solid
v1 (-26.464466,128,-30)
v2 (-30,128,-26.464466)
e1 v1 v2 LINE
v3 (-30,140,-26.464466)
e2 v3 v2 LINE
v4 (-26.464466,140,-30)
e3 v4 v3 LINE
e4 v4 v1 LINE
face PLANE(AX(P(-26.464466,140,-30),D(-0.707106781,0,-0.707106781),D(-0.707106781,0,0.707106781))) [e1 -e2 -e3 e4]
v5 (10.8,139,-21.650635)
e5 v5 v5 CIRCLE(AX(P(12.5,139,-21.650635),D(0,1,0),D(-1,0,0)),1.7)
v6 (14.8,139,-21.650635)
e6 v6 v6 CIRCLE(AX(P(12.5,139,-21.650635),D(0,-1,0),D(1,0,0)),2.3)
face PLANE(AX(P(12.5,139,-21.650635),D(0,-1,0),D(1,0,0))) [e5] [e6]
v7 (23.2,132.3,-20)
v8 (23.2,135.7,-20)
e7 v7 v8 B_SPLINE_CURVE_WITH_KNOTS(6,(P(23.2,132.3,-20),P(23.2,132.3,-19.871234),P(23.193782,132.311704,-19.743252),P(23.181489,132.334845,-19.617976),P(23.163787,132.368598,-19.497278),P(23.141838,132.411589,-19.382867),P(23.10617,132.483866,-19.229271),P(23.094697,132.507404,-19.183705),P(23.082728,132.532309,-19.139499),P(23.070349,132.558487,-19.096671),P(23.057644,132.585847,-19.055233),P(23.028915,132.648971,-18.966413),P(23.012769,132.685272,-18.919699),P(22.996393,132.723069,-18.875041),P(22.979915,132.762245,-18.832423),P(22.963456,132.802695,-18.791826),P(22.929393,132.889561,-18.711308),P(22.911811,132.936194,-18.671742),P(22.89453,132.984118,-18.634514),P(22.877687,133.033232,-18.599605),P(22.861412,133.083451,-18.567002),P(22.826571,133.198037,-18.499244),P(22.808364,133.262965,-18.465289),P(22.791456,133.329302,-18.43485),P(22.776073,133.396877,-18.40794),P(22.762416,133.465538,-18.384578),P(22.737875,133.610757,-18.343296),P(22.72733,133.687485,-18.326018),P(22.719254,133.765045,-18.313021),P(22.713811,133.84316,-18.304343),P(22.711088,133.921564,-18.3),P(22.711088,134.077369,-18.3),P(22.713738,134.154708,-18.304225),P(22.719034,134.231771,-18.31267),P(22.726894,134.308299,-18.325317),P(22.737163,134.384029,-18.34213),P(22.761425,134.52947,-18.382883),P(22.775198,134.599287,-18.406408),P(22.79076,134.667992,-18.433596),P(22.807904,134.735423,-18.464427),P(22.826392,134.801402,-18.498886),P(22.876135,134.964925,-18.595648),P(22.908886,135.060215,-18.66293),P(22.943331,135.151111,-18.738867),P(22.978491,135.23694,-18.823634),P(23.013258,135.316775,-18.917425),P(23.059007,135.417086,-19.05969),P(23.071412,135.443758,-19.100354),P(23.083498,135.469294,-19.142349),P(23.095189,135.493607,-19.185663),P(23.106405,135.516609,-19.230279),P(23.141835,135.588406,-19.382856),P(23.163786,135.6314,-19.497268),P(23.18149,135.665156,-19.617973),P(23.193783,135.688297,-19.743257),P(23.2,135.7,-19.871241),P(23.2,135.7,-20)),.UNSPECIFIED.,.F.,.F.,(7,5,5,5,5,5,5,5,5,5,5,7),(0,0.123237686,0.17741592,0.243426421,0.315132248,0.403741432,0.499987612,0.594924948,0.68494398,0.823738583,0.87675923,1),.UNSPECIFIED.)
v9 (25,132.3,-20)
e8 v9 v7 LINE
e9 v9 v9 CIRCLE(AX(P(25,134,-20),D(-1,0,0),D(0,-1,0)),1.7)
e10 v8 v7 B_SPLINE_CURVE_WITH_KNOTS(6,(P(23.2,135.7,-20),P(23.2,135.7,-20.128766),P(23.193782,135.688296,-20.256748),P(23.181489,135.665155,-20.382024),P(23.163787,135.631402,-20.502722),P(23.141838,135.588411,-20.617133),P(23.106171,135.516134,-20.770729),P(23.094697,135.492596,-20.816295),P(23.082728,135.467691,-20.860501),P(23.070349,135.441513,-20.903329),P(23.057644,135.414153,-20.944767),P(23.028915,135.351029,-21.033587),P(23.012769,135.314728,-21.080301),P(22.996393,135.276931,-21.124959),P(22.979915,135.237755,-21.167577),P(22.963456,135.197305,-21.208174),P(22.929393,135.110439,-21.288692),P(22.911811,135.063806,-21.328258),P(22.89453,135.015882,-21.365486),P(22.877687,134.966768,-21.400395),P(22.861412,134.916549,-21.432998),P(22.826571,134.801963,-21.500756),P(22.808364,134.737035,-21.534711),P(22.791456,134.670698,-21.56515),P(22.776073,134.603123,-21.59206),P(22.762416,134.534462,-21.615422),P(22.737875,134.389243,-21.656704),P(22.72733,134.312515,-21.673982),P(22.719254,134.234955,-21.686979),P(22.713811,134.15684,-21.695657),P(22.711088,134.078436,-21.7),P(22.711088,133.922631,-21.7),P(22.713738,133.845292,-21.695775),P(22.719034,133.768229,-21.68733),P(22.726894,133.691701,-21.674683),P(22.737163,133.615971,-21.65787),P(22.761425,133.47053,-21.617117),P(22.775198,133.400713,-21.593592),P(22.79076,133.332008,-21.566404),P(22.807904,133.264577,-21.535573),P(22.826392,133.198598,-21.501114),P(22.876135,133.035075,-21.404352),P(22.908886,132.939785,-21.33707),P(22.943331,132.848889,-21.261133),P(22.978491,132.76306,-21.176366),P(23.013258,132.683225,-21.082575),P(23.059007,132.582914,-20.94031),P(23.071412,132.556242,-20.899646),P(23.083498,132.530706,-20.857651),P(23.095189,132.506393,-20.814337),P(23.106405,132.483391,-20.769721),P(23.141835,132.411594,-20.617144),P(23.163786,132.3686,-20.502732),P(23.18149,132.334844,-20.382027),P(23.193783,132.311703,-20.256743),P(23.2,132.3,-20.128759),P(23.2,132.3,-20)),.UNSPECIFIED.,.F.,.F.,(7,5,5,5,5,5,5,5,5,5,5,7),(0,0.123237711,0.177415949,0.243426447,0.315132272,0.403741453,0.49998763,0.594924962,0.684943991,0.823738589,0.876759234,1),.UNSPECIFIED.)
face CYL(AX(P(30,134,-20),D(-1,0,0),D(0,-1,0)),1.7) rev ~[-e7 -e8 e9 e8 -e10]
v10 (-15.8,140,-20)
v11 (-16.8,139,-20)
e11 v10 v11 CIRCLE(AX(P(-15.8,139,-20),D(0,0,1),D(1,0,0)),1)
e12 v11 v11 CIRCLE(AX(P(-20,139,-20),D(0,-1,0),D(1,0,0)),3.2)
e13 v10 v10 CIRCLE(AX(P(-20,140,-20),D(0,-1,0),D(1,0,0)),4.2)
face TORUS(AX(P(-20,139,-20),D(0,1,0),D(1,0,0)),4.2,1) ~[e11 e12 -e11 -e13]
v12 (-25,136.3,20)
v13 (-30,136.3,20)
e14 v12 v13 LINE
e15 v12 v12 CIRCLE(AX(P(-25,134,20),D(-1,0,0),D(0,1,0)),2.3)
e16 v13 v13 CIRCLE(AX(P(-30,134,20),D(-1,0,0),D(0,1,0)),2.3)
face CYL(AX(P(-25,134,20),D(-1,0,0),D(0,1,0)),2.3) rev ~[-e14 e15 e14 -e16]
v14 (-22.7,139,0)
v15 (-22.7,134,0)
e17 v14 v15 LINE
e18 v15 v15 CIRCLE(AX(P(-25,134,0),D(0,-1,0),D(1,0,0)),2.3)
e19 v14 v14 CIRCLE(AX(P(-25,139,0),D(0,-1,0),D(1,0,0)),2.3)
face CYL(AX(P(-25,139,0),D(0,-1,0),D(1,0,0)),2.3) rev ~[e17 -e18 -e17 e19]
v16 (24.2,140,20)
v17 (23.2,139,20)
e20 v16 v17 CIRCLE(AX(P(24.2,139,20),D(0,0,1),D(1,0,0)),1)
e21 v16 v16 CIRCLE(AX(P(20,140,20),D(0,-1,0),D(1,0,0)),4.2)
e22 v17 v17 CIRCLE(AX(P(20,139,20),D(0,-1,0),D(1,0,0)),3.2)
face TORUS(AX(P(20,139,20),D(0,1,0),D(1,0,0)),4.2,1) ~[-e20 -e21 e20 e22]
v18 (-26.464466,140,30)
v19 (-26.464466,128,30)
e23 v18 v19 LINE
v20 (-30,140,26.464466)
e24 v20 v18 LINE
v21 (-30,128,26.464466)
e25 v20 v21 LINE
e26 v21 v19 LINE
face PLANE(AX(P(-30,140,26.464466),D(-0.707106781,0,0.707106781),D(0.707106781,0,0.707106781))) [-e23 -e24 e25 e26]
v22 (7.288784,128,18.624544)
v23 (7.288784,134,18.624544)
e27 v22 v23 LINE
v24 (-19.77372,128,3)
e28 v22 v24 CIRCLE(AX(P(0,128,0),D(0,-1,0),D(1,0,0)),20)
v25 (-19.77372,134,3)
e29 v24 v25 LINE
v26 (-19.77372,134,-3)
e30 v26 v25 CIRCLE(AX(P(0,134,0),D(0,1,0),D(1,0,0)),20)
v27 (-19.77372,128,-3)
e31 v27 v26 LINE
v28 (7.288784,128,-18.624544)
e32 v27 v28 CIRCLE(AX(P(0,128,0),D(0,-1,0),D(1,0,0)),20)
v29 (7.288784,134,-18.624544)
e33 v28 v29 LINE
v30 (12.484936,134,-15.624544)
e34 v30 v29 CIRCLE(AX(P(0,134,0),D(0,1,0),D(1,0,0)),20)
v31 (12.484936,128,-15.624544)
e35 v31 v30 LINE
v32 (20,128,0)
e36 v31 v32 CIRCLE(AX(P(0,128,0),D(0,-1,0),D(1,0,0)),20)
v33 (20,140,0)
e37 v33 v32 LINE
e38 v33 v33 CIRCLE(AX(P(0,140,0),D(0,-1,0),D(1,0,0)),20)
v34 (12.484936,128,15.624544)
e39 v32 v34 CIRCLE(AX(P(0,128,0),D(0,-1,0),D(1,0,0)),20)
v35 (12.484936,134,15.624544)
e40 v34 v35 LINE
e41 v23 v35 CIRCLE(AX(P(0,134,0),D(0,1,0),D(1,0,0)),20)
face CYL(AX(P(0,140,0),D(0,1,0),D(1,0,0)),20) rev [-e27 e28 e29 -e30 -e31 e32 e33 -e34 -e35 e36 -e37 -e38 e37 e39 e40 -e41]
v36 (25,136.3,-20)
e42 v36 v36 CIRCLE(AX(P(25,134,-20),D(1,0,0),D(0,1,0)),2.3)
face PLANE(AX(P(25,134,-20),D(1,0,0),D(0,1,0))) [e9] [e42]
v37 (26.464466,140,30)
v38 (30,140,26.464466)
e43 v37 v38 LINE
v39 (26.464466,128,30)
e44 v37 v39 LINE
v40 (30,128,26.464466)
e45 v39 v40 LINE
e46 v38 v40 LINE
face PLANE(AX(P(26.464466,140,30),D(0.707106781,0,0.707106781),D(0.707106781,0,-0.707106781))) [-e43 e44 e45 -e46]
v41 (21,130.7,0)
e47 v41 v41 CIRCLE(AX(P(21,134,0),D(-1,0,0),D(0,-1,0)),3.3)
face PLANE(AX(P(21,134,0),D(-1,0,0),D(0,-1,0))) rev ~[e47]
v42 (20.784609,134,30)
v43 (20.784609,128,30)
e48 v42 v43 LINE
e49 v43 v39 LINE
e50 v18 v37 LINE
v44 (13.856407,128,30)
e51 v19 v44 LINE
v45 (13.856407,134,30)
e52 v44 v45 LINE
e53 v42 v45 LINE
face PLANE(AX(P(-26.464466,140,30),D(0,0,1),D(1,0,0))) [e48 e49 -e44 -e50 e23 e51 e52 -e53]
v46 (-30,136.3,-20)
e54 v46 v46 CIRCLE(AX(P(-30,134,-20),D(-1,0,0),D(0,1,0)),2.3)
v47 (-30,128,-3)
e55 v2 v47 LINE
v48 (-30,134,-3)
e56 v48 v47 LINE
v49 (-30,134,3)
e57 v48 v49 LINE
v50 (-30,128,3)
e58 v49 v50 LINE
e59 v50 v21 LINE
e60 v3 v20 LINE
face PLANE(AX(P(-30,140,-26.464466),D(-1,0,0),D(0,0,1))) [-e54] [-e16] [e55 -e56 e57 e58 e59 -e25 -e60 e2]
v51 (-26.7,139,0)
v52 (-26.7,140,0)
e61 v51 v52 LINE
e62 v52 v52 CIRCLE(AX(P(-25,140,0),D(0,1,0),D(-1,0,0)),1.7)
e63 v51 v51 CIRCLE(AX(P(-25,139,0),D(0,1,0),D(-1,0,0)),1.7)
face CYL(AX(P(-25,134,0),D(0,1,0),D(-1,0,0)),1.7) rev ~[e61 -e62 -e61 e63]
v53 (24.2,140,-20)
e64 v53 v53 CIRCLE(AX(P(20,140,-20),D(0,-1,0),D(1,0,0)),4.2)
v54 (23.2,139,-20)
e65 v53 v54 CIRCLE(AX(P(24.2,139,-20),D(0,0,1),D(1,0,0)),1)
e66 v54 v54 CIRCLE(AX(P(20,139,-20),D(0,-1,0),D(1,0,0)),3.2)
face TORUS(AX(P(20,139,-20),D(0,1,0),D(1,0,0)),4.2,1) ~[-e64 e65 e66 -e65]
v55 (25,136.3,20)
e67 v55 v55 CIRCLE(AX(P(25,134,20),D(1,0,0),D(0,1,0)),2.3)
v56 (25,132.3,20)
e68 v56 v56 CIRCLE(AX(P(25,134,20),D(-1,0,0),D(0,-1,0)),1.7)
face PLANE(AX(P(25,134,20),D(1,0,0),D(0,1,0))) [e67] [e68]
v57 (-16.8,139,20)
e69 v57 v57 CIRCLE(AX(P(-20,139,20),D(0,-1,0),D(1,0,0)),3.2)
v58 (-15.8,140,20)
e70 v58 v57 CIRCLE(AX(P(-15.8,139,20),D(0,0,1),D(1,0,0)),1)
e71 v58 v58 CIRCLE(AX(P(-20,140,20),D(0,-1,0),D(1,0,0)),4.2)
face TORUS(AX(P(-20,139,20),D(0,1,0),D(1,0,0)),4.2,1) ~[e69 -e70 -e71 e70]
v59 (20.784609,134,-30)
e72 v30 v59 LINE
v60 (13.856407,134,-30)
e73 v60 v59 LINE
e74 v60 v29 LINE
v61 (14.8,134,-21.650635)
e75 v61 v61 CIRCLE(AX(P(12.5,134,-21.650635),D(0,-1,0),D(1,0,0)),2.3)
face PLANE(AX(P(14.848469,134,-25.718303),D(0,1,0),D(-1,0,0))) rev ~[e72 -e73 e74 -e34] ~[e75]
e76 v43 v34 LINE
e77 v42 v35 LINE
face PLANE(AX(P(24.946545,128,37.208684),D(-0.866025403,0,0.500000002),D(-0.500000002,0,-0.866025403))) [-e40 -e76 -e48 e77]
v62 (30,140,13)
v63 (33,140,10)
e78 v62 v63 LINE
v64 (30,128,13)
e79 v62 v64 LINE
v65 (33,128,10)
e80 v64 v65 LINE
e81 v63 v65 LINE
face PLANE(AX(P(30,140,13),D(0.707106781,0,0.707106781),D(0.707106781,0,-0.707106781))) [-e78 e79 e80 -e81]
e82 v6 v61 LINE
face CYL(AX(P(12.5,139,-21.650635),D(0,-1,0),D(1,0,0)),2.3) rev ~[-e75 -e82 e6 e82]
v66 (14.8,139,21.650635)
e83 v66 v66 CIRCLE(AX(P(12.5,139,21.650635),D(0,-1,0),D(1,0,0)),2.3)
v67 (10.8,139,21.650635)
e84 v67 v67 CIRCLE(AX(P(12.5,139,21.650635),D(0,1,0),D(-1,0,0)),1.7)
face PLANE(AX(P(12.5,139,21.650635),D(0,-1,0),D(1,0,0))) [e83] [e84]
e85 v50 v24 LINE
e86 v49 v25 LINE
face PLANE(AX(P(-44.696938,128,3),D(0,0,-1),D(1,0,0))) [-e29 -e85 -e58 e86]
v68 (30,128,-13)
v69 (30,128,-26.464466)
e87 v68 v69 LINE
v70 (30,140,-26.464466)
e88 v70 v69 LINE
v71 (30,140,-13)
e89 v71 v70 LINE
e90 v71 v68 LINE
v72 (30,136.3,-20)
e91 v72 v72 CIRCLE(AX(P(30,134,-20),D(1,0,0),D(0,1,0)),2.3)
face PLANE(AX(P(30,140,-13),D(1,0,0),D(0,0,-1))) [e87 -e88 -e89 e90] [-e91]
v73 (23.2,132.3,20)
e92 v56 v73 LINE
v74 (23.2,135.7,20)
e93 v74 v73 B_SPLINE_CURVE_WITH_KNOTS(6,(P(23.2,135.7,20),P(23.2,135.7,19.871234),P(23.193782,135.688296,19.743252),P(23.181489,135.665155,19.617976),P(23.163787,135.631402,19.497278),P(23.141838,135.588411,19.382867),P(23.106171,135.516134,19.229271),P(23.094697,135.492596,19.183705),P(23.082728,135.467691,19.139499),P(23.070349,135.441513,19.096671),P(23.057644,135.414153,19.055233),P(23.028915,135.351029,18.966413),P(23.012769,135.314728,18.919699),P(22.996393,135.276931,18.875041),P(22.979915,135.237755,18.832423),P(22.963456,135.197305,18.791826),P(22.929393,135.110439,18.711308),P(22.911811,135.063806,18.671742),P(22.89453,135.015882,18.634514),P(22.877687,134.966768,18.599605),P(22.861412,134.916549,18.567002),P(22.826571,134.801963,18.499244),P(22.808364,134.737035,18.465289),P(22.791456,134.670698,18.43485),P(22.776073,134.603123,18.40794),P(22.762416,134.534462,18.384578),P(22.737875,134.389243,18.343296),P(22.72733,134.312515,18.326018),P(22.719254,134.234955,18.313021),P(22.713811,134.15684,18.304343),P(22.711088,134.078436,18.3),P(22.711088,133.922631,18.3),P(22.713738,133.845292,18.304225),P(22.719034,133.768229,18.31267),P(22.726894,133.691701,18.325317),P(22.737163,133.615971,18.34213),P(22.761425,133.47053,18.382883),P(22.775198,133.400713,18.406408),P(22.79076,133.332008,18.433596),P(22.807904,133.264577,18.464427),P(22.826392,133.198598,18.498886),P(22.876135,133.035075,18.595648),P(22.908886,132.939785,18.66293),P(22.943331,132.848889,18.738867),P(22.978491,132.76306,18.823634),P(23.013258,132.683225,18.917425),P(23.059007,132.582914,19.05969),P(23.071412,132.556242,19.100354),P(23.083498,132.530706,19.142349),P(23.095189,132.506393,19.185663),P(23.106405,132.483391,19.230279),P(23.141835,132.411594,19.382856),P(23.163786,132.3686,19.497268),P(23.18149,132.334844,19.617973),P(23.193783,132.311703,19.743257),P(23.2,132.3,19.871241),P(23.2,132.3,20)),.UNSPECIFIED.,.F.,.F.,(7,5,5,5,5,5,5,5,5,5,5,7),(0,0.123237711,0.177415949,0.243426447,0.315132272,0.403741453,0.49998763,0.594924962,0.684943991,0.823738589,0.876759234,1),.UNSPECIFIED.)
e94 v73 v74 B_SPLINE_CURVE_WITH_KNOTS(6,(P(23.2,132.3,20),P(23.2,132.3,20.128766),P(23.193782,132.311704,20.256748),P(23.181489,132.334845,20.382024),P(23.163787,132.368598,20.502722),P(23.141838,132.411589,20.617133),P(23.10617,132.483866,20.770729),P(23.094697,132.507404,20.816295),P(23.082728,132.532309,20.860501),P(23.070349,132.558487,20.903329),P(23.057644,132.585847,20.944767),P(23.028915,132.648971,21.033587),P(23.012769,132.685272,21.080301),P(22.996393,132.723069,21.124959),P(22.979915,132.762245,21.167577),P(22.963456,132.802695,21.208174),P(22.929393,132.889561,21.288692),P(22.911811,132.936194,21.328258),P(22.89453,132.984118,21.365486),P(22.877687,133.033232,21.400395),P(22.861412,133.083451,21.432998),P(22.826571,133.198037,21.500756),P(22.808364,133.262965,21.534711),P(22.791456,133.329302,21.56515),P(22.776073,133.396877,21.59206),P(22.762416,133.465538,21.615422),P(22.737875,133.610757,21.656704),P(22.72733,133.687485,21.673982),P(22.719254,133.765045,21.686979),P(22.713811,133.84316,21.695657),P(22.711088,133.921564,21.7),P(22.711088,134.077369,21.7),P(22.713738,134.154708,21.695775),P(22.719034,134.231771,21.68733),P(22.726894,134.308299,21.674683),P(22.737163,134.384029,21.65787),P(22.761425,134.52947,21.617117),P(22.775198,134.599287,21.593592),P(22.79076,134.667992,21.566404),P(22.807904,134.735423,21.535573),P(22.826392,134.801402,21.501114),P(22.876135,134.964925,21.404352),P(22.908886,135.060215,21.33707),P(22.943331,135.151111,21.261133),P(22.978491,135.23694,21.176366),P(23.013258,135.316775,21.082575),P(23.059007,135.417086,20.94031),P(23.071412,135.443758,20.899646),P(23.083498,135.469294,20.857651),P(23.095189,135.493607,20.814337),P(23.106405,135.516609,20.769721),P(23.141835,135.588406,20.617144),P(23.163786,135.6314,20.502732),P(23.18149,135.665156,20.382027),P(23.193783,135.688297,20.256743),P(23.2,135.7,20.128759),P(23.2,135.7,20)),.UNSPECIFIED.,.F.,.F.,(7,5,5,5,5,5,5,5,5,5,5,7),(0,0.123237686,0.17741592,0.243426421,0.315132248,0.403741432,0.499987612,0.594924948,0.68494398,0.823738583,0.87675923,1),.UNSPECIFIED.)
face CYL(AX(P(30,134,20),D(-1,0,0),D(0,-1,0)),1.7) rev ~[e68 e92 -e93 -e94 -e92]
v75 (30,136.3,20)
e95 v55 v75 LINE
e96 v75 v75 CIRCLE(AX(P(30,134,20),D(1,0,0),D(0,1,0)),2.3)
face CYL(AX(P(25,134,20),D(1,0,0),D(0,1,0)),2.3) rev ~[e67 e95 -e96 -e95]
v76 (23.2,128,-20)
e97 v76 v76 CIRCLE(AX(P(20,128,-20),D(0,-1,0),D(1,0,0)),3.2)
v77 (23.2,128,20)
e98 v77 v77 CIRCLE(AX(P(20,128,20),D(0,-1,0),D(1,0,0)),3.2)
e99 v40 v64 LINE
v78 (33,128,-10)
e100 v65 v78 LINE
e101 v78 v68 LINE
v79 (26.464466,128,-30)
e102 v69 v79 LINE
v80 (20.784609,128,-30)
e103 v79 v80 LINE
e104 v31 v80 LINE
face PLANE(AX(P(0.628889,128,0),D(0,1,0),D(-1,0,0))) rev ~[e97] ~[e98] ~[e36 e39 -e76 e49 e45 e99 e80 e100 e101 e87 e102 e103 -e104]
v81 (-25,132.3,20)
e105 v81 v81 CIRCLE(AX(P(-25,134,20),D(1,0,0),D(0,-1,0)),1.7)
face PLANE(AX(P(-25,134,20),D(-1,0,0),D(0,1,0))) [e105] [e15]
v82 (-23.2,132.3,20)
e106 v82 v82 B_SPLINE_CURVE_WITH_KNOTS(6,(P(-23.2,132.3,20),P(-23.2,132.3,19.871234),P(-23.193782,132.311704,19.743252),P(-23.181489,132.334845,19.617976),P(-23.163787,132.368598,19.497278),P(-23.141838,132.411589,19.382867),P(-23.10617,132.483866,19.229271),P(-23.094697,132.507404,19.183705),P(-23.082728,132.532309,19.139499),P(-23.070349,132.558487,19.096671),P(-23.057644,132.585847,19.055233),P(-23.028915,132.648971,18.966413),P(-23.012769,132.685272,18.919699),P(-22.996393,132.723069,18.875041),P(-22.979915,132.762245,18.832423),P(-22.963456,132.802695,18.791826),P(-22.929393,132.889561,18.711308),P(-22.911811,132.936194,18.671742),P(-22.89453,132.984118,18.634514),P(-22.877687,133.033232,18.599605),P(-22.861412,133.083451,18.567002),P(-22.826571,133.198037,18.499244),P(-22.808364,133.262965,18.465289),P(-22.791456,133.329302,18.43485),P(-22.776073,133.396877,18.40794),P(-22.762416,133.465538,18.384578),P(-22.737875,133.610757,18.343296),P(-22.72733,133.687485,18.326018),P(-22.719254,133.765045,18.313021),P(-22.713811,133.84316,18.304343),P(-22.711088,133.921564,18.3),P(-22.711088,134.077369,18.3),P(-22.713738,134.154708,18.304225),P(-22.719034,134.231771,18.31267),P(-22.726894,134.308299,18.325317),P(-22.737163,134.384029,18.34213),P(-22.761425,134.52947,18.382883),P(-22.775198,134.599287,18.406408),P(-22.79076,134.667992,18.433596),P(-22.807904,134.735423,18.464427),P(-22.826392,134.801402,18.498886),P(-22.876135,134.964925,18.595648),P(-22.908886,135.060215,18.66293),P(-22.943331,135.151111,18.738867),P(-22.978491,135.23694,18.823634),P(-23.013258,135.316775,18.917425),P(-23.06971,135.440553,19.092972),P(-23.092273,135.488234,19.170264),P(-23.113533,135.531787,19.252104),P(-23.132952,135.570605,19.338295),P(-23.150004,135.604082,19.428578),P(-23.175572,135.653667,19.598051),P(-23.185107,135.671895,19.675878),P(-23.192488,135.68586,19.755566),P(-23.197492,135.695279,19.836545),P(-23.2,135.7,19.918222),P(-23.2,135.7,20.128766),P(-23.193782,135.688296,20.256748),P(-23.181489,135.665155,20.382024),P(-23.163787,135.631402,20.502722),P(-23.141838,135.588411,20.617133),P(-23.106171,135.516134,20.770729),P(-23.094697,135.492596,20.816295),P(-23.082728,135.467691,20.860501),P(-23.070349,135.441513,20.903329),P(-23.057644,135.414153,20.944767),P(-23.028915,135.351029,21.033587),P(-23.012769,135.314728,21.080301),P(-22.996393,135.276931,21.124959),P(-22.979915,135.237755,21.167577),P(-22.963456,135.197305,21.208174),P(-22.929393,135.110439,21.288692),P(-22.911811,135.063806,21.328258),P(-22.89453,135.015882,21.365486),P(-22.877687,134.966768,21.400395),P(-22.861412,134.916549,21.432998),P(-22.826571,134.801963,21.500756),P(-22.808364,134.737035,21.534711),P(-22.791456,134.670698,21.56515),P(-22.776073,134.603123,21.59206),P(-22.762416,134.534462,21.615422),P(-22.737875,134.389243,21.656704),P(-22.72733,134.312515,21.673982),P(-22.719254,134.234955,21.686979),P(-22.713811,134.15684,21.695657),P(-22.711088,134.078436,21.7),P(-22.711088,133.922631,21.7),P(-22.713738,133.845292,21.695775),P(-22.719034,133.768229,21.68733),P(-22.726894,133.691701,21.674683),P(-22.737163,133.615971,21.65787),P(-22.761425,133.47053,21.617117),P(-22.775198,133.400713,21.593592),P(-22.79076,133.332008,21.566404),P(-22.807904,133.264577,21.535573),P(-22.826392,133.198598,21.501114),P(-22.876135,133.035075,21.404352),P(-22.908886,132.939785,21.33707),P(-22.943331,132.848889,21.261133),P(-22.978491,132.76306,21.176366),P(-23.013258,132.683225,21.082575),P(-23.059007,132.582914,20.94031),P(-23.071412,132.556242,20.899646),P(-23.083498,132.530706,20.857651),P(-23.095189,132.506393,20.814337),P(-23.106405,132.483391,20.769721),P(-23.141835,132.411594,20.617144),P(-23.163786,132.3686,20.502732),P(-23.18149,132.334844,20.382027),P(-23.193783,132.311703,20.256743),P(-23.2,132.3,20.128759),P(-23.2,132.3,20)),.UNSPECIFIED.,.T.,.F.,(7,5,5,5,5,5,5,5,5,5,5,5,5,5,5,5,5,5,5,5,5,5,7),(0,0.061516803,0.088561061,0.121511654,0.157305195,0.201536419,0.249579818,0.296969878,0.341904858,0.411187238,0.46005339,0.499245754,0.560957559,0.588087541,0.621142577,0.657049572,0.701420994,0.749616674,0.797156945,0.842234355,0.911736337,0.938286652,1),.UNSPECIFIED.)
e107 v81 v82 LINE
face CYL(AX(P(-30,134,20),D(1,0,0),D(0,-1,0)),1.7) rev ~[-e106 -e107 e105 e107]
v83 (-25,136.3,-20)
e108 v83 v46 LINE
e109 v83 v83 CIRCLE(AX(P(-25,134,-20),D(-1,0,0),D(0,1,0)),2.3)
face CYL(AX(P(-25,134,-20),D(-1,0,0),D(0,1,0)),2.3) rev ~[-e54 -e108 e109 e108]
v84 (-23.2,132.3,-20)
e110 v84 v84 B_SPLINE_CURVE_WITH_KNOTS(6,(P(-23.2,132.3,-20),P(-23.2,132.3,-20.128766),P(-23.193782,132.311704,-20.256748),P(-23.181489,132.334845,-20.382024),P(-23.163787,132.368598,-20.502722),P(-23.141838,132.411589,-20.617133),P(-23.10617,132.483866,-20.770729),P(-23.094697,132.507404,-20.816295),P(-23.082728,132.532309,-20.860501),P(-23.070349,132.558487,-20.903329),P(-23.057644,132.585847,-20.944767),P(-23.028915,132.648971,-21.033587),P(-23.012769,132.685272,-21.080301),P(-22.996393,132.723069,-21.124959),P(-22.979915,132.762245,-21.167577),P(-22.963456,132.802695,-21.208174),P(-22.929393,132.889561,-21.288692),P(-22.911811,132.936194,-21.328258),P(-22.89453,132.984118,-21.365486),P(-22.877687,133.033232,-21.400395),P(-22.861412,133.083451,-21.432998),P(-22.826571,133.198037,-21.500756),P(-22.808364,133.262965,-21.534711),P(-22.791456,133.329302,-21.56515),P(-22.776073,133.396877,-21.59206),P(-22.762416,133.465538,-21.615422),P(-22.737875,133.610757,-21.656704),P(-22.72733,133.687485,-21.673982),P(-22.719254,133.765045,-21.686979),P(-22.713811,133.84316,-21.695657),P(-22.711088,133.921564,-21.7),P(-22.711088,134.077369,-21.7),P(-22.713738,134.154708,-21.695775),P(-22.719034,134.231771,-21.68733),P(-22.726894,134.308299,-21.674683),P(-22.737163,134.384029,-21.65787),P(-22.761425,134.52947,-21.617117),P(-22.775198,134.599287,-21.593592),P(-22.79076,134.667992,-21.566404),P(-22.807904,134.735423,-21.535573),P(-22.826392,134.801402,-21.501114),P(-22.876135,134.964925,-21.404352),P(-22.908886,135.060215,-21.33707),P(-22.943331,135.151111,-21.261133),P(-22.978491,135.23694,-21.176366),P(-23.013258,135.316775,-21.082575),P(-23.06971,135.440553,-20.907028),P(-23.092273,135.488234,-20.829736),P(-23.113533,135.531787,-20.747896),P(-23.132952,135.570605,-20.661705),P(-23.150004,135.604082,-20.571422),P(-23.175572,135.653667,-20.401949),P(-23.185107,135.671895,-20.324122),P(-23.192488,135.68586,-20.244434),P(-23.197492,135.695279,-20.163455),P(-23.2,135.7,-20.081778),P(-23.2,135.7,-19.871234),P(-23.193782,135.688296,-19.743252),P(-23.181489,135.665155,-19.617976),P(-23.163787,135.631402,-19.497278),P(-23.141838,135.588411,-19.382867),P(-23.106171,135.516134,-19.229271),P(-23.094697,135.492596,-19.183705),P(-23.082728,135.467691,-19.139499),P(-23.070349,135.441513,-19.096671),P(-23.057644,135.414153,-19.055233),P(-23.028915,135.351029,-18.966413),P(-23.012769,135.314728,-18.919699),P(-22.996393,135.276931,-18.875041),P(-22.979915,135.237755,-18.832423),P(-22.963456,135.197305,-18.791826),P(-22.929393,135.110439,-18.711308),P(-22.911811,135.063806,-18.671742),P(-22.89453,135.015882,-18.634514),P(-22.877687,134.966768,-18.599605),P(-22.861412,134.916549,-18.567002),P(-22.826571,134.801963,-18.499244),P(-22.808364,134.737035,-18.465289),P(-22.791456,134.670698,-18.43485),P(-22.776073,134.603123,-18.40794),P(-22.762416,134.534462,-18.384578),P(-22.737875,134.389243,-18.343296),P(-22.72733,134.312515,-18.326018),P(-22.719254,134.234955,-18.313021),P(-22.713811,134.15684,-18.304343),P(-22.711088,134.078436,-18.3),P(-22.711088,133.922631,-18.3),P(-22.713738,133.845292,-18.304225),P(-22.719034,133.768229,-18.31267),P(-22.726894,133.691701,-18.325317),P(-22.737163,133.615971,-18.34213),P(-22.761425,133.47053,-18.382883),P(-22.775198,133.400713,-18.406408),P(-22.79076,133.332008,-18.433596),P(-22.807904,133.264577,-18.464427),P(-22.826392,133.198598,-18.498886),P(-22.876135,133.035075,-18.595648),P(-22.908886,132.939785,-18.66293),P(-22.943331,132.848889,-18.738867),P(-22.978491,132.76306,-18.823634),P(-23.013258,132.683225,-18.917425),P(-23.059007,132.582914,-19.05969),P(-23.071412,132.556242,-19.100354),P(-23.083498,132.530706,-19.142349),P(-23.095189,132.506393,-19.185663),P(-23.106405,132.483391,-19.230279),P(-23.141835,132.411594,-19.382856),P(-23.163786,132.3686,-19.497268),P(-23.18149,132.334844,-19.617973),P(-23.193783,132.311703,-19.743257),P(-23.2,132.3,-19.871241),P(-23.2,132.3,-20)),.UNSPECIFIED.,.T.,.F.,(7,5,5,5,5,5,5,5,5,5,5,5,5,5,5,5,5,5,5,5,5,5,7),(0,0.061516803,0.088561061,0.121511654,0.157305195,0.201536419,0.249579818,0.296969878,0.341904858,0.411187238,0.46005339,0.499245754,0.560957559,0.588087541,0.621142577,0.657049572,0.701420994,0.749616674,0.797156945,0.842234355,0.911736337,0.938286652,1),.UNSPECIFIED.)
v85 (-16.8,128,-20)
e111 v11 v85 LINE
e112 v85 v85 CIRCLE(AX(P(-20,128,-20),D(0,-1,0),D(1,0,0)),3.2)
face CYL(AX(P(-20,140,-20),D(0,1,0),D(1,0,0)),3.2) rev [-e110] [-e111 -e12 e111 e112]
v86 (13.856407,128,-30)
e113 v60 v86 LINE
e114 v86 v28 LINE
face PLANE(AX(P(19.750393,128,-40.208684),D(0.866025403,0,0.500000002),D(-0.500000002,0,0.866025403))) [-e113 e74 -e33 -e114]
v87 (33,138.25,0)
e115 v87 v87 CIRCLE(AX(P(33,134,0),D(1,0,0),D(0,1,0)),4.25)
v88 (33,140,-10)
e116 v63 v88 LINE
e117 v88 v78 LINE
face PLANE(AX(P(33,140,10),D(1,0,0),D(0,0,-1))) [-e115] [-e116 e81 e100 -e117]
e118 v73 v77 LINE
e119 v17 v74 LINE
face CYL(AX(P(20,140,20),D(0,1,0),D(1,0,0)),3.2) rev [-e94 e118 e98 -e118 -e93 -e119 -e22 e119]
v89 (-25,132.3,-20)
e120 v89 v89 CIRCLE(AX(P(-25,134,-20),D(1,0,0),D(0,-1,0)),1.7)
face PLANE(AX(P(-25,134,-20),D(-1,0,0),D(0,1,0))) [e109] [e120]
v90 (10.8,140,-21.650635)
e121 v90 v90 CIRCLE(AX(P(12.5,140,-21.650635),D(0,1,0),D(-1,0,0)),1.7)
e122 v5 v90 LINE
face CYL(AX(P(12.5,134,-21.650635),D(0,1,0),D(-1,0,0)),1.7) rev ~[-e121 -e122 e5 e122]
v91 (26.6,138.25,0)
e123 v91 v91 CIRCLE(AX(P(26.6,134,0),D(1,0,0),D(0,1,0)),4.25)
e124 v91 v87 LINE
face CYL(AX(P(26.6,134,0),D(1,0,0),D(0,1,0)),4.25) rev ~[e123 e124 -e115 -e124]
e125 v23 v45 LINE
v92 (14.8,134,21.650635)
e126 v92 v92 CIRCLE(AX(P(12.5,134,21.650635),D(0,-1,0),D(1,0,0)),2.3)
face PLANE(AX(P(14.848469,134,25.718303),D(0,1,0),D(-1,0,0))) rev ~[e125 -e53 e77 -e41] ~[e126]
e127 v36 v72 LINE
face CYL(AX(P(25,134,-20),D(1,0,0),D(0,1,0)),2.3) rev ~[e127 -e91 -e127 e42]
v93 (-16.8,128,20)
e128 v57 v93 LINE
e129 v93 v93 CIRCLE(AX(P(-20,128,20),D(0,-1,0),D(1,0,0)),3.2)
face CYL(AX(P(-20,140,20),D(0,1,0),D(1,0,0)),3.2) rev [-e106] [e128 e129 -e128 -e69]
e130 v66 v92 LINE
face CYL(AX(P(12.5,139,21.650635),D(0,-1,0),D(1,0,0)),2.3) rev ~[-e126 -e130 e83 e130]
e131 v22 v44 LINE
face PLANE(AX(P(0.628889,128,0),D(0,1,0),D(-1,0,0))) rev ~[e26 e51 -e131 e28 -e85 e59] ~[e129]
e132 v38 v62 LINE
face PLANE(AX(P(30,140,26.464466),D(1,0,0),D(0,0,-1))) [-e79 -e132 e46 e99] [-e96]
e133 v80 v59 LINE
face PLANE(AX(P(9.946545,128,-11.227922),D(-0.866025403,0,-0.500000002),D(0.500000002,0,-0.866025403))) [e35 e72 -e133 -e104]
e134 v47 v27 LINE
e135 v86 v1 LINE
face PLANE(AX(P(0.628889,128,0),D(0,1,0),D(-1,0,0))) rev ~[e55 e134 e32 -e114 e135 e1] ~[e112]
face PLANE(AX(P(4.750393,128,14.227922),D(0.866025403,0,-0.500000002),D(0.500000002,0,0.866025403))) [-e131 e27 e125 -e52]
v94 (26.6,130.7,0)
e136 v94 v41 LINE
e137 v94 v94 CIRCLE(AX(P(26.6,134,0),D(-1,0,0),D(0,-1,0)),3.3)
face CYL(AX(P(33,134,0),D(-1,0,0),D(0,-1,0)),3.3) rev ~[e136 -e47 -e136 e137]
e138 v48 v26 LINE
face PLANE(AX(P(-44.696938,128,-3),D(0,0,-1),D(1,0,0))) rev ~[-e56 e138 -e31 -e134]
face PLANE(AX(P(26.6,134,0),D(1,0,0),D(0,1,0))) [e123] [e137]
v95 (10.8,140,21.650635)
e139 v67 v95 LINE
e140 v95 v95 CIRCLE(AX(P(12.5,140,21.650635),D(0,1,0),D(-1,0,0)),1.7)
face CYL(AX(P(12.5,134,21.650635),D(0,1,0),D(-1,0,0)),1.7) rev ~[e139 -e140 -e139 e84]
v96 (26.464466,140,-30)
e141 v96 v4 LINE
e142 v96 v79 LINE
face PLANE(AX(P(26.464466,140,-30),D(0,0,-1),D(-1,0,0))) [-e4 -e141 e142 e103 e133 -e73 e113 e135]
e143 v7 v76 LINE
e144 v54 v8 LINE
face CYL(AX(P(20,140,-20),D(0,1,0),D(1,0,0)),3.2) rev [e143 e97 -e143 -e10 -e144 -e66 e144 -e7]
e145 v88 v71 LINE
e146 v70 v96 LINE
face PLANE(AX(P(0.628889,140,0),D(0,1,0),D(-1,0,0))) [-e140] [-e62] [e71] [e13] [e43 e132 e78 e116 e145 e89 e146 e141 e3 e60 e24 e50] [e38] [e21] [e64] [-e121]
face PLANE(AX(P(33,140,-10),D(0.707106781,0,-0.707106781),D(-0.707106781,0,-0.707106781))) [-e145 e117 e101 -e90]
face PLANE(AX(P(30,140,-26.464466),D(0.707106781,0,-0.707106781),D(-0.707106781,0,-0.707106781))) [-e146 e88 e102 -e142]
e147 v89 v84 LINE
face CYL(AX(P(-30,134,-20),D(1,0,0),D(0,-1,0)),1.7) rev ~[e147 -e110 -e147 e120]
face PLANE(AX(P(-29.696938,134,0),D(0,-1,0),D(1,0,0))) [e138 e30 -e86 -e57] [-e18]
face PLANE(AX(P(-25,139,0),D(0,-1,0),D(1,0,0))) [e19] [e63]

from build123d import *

# Parameters (mm, degrees)
SKETCH001_R         = 20
SKETCH001_R_2       = 3.2
PAD_DEPTH           = 12
SKETCH003_W         = 30
SKETCH003_H         = 6
POCKET_DEPTH        = 6
HOLE_D              = 3.4
HOLE_DEPTH          = 25
HOLE_CBORE_D        = 4.6
HOLE_CBORE_DEPTH    = 5
HOLE001_D           = 3.4
HOLE001_DEPTH       = 10
HOLE001_CBORE_D     = 4.6
HOLE001_CBORE_DEPTH = 5
HOLE001_TIPS_R      = 1.7
HOLE002_D           = 3.4
HOLE002_DEPTH       = 10
HOLE002_CBORE_D     = 4.6
HOLE002_CBORE_DEPTH = 5
HOLE003_D           = 6.6
HOLE003_DEPTH       = 12
HOLE003_CBORE_D     = 8.5
HOLE003_CBORE_DEPTH = 6.4
FILLET002_R         = 1


with BuildPart() as part:
    # Sketch001 → Pad (new body)
    with BuildSketch(Plane.XZ):
        Polygon((30, -26.464466), (26.464466, -30), (-26.464466, -30), (-30, -26.464466), (-30, 26.464466), (-26.464466, 30), (26.464466, 30), (30, 26.464466), (30, 13), (33, 10), (33, -10), (30, -13), align=None)
        Circle(SKETCH001_R, mode=Mode.SUBTRACT)
        with Locations((-20, 20)):
            Circle(SKETCH001_R_2, mode=Mode.SUBTRACT)
        with Locations((20, 20)):
            Circle(SKETCH001_R_2, mode=Mode.SUBTRACT)
        with Locations((20, -20)):
            Circle(SKETCH001_R_2, mode=Mode.SUBTRACT)
        with Locations((-20, -20)):
            Circle(SKETCH001_R_2, mode=Mode.SUBTRACT)
    extrude(amount=PAD_DEPTH)

    # Sketch003 (on DatumPlane) → Pocket (cut)
    with BuildSketch(Plane.XZ.offset(12)):
        Polygon((24.946545, 37.208684), (9.946545, 11.227922), (4.750393, 14.227922), (19.750393, 40.208684), align=None)
        Polygon((9.946545, -11.227922), (24.946545, -37.208684), (19.750393, -40.208684), (4.750393, -14.227922), align=None)
        with Locations((-29.696938, 0)):
            Rectangle(SKETCH003_W, SKETCH003_H)
    extrude(amount=-POCKET_DEPTH, mode=Mode.SUBTRACT)

    # Hole
    with Locations(Plane.XZ.offset(6)):
        with Locations((-25, 0), (12.5, 21.650635), (12.5, -21.650635)):
            CounterBoreHole(HOLE_D / 2, HOLE_CBORE_D / 2, HOLE_CBORE_DEPTH, depth=HOLE_DEPTH)

    # Hole001
    with Locations(Plane.YZ.offset(30)):
        with Locations((-6, 20), (-6, -20)):
            CounterBoreHole(HOLE001_D / 2, HOLE001_CBORE_D / 2, HOLE001_CBORE_DEPTH, depth=HOLE001_DEPTH)

    # Hole001 tips → Hole001 tip 1 section 0
    with BuildSketch(Plane.YZ.offset(20), mode=Mode.PRIVATE) as hole001_tip_1_s0:
        with Locations((-6, 20)):
            Circle(HOLE001_TIPS_R)
    loft([hole001_tip_1_s0.sketch, Vertex(18.978537, -6, 20)], mode=Mode.SUBTRACT)

    # Hole001 tips → Hole001 tip 2 section 0
    with BuildSketch(Plane.YZ.offset(20), mode=Mode.PRIVATE) as hole001_tip_2_s0:
        with Locations((-6, -20)):
            Circle(HOLE001_TIPS_R)
    loft([hole001_tip_2_s0.sketch, Vertex(18.978537, -6, -20)], mode=Mode.SUBTRACT)

    # Hole002
    with Locations(Plane(origin=(-30, 0, 0), x_dir=(0, 1, 0), z_dir=(-1, 0, 0))):
        with Locations((-6, -20), (-6, 20)):
            CounterBoreHole(HOLE002_D / 2, HOLE002_CBORE_D / 2, HOLE002_CBORE_DEPTH, depth=HOLE002_DEPTH)

    # Hole003
    with Locations(Plane.YZ.offset(33)):
        with Locations((-6, 0)):
            CounterBoreHole(HOLE003_D / 2, HOLE003_CBORE_D / 2, HOLE003_CBORE_DEPTH, depth=HOLE003_DEPTH)

    # Fillet002
    fillet002_edges = [part.edges().sort_by_distance(p)[0] for p in [
        (-23.2, 0, -20),
        (16.8, 0, -20),
        (16.8, 0, 20),
        (-23.2, 0, 20),
    ]]
    fillet(fillet002_edges, radius=FILLET002_R)


with BuildPart() as part_1:
    # Body001 placement: moved
    add(part.part.moved(Location((0, 140, 0))))


solid = part_1.part
